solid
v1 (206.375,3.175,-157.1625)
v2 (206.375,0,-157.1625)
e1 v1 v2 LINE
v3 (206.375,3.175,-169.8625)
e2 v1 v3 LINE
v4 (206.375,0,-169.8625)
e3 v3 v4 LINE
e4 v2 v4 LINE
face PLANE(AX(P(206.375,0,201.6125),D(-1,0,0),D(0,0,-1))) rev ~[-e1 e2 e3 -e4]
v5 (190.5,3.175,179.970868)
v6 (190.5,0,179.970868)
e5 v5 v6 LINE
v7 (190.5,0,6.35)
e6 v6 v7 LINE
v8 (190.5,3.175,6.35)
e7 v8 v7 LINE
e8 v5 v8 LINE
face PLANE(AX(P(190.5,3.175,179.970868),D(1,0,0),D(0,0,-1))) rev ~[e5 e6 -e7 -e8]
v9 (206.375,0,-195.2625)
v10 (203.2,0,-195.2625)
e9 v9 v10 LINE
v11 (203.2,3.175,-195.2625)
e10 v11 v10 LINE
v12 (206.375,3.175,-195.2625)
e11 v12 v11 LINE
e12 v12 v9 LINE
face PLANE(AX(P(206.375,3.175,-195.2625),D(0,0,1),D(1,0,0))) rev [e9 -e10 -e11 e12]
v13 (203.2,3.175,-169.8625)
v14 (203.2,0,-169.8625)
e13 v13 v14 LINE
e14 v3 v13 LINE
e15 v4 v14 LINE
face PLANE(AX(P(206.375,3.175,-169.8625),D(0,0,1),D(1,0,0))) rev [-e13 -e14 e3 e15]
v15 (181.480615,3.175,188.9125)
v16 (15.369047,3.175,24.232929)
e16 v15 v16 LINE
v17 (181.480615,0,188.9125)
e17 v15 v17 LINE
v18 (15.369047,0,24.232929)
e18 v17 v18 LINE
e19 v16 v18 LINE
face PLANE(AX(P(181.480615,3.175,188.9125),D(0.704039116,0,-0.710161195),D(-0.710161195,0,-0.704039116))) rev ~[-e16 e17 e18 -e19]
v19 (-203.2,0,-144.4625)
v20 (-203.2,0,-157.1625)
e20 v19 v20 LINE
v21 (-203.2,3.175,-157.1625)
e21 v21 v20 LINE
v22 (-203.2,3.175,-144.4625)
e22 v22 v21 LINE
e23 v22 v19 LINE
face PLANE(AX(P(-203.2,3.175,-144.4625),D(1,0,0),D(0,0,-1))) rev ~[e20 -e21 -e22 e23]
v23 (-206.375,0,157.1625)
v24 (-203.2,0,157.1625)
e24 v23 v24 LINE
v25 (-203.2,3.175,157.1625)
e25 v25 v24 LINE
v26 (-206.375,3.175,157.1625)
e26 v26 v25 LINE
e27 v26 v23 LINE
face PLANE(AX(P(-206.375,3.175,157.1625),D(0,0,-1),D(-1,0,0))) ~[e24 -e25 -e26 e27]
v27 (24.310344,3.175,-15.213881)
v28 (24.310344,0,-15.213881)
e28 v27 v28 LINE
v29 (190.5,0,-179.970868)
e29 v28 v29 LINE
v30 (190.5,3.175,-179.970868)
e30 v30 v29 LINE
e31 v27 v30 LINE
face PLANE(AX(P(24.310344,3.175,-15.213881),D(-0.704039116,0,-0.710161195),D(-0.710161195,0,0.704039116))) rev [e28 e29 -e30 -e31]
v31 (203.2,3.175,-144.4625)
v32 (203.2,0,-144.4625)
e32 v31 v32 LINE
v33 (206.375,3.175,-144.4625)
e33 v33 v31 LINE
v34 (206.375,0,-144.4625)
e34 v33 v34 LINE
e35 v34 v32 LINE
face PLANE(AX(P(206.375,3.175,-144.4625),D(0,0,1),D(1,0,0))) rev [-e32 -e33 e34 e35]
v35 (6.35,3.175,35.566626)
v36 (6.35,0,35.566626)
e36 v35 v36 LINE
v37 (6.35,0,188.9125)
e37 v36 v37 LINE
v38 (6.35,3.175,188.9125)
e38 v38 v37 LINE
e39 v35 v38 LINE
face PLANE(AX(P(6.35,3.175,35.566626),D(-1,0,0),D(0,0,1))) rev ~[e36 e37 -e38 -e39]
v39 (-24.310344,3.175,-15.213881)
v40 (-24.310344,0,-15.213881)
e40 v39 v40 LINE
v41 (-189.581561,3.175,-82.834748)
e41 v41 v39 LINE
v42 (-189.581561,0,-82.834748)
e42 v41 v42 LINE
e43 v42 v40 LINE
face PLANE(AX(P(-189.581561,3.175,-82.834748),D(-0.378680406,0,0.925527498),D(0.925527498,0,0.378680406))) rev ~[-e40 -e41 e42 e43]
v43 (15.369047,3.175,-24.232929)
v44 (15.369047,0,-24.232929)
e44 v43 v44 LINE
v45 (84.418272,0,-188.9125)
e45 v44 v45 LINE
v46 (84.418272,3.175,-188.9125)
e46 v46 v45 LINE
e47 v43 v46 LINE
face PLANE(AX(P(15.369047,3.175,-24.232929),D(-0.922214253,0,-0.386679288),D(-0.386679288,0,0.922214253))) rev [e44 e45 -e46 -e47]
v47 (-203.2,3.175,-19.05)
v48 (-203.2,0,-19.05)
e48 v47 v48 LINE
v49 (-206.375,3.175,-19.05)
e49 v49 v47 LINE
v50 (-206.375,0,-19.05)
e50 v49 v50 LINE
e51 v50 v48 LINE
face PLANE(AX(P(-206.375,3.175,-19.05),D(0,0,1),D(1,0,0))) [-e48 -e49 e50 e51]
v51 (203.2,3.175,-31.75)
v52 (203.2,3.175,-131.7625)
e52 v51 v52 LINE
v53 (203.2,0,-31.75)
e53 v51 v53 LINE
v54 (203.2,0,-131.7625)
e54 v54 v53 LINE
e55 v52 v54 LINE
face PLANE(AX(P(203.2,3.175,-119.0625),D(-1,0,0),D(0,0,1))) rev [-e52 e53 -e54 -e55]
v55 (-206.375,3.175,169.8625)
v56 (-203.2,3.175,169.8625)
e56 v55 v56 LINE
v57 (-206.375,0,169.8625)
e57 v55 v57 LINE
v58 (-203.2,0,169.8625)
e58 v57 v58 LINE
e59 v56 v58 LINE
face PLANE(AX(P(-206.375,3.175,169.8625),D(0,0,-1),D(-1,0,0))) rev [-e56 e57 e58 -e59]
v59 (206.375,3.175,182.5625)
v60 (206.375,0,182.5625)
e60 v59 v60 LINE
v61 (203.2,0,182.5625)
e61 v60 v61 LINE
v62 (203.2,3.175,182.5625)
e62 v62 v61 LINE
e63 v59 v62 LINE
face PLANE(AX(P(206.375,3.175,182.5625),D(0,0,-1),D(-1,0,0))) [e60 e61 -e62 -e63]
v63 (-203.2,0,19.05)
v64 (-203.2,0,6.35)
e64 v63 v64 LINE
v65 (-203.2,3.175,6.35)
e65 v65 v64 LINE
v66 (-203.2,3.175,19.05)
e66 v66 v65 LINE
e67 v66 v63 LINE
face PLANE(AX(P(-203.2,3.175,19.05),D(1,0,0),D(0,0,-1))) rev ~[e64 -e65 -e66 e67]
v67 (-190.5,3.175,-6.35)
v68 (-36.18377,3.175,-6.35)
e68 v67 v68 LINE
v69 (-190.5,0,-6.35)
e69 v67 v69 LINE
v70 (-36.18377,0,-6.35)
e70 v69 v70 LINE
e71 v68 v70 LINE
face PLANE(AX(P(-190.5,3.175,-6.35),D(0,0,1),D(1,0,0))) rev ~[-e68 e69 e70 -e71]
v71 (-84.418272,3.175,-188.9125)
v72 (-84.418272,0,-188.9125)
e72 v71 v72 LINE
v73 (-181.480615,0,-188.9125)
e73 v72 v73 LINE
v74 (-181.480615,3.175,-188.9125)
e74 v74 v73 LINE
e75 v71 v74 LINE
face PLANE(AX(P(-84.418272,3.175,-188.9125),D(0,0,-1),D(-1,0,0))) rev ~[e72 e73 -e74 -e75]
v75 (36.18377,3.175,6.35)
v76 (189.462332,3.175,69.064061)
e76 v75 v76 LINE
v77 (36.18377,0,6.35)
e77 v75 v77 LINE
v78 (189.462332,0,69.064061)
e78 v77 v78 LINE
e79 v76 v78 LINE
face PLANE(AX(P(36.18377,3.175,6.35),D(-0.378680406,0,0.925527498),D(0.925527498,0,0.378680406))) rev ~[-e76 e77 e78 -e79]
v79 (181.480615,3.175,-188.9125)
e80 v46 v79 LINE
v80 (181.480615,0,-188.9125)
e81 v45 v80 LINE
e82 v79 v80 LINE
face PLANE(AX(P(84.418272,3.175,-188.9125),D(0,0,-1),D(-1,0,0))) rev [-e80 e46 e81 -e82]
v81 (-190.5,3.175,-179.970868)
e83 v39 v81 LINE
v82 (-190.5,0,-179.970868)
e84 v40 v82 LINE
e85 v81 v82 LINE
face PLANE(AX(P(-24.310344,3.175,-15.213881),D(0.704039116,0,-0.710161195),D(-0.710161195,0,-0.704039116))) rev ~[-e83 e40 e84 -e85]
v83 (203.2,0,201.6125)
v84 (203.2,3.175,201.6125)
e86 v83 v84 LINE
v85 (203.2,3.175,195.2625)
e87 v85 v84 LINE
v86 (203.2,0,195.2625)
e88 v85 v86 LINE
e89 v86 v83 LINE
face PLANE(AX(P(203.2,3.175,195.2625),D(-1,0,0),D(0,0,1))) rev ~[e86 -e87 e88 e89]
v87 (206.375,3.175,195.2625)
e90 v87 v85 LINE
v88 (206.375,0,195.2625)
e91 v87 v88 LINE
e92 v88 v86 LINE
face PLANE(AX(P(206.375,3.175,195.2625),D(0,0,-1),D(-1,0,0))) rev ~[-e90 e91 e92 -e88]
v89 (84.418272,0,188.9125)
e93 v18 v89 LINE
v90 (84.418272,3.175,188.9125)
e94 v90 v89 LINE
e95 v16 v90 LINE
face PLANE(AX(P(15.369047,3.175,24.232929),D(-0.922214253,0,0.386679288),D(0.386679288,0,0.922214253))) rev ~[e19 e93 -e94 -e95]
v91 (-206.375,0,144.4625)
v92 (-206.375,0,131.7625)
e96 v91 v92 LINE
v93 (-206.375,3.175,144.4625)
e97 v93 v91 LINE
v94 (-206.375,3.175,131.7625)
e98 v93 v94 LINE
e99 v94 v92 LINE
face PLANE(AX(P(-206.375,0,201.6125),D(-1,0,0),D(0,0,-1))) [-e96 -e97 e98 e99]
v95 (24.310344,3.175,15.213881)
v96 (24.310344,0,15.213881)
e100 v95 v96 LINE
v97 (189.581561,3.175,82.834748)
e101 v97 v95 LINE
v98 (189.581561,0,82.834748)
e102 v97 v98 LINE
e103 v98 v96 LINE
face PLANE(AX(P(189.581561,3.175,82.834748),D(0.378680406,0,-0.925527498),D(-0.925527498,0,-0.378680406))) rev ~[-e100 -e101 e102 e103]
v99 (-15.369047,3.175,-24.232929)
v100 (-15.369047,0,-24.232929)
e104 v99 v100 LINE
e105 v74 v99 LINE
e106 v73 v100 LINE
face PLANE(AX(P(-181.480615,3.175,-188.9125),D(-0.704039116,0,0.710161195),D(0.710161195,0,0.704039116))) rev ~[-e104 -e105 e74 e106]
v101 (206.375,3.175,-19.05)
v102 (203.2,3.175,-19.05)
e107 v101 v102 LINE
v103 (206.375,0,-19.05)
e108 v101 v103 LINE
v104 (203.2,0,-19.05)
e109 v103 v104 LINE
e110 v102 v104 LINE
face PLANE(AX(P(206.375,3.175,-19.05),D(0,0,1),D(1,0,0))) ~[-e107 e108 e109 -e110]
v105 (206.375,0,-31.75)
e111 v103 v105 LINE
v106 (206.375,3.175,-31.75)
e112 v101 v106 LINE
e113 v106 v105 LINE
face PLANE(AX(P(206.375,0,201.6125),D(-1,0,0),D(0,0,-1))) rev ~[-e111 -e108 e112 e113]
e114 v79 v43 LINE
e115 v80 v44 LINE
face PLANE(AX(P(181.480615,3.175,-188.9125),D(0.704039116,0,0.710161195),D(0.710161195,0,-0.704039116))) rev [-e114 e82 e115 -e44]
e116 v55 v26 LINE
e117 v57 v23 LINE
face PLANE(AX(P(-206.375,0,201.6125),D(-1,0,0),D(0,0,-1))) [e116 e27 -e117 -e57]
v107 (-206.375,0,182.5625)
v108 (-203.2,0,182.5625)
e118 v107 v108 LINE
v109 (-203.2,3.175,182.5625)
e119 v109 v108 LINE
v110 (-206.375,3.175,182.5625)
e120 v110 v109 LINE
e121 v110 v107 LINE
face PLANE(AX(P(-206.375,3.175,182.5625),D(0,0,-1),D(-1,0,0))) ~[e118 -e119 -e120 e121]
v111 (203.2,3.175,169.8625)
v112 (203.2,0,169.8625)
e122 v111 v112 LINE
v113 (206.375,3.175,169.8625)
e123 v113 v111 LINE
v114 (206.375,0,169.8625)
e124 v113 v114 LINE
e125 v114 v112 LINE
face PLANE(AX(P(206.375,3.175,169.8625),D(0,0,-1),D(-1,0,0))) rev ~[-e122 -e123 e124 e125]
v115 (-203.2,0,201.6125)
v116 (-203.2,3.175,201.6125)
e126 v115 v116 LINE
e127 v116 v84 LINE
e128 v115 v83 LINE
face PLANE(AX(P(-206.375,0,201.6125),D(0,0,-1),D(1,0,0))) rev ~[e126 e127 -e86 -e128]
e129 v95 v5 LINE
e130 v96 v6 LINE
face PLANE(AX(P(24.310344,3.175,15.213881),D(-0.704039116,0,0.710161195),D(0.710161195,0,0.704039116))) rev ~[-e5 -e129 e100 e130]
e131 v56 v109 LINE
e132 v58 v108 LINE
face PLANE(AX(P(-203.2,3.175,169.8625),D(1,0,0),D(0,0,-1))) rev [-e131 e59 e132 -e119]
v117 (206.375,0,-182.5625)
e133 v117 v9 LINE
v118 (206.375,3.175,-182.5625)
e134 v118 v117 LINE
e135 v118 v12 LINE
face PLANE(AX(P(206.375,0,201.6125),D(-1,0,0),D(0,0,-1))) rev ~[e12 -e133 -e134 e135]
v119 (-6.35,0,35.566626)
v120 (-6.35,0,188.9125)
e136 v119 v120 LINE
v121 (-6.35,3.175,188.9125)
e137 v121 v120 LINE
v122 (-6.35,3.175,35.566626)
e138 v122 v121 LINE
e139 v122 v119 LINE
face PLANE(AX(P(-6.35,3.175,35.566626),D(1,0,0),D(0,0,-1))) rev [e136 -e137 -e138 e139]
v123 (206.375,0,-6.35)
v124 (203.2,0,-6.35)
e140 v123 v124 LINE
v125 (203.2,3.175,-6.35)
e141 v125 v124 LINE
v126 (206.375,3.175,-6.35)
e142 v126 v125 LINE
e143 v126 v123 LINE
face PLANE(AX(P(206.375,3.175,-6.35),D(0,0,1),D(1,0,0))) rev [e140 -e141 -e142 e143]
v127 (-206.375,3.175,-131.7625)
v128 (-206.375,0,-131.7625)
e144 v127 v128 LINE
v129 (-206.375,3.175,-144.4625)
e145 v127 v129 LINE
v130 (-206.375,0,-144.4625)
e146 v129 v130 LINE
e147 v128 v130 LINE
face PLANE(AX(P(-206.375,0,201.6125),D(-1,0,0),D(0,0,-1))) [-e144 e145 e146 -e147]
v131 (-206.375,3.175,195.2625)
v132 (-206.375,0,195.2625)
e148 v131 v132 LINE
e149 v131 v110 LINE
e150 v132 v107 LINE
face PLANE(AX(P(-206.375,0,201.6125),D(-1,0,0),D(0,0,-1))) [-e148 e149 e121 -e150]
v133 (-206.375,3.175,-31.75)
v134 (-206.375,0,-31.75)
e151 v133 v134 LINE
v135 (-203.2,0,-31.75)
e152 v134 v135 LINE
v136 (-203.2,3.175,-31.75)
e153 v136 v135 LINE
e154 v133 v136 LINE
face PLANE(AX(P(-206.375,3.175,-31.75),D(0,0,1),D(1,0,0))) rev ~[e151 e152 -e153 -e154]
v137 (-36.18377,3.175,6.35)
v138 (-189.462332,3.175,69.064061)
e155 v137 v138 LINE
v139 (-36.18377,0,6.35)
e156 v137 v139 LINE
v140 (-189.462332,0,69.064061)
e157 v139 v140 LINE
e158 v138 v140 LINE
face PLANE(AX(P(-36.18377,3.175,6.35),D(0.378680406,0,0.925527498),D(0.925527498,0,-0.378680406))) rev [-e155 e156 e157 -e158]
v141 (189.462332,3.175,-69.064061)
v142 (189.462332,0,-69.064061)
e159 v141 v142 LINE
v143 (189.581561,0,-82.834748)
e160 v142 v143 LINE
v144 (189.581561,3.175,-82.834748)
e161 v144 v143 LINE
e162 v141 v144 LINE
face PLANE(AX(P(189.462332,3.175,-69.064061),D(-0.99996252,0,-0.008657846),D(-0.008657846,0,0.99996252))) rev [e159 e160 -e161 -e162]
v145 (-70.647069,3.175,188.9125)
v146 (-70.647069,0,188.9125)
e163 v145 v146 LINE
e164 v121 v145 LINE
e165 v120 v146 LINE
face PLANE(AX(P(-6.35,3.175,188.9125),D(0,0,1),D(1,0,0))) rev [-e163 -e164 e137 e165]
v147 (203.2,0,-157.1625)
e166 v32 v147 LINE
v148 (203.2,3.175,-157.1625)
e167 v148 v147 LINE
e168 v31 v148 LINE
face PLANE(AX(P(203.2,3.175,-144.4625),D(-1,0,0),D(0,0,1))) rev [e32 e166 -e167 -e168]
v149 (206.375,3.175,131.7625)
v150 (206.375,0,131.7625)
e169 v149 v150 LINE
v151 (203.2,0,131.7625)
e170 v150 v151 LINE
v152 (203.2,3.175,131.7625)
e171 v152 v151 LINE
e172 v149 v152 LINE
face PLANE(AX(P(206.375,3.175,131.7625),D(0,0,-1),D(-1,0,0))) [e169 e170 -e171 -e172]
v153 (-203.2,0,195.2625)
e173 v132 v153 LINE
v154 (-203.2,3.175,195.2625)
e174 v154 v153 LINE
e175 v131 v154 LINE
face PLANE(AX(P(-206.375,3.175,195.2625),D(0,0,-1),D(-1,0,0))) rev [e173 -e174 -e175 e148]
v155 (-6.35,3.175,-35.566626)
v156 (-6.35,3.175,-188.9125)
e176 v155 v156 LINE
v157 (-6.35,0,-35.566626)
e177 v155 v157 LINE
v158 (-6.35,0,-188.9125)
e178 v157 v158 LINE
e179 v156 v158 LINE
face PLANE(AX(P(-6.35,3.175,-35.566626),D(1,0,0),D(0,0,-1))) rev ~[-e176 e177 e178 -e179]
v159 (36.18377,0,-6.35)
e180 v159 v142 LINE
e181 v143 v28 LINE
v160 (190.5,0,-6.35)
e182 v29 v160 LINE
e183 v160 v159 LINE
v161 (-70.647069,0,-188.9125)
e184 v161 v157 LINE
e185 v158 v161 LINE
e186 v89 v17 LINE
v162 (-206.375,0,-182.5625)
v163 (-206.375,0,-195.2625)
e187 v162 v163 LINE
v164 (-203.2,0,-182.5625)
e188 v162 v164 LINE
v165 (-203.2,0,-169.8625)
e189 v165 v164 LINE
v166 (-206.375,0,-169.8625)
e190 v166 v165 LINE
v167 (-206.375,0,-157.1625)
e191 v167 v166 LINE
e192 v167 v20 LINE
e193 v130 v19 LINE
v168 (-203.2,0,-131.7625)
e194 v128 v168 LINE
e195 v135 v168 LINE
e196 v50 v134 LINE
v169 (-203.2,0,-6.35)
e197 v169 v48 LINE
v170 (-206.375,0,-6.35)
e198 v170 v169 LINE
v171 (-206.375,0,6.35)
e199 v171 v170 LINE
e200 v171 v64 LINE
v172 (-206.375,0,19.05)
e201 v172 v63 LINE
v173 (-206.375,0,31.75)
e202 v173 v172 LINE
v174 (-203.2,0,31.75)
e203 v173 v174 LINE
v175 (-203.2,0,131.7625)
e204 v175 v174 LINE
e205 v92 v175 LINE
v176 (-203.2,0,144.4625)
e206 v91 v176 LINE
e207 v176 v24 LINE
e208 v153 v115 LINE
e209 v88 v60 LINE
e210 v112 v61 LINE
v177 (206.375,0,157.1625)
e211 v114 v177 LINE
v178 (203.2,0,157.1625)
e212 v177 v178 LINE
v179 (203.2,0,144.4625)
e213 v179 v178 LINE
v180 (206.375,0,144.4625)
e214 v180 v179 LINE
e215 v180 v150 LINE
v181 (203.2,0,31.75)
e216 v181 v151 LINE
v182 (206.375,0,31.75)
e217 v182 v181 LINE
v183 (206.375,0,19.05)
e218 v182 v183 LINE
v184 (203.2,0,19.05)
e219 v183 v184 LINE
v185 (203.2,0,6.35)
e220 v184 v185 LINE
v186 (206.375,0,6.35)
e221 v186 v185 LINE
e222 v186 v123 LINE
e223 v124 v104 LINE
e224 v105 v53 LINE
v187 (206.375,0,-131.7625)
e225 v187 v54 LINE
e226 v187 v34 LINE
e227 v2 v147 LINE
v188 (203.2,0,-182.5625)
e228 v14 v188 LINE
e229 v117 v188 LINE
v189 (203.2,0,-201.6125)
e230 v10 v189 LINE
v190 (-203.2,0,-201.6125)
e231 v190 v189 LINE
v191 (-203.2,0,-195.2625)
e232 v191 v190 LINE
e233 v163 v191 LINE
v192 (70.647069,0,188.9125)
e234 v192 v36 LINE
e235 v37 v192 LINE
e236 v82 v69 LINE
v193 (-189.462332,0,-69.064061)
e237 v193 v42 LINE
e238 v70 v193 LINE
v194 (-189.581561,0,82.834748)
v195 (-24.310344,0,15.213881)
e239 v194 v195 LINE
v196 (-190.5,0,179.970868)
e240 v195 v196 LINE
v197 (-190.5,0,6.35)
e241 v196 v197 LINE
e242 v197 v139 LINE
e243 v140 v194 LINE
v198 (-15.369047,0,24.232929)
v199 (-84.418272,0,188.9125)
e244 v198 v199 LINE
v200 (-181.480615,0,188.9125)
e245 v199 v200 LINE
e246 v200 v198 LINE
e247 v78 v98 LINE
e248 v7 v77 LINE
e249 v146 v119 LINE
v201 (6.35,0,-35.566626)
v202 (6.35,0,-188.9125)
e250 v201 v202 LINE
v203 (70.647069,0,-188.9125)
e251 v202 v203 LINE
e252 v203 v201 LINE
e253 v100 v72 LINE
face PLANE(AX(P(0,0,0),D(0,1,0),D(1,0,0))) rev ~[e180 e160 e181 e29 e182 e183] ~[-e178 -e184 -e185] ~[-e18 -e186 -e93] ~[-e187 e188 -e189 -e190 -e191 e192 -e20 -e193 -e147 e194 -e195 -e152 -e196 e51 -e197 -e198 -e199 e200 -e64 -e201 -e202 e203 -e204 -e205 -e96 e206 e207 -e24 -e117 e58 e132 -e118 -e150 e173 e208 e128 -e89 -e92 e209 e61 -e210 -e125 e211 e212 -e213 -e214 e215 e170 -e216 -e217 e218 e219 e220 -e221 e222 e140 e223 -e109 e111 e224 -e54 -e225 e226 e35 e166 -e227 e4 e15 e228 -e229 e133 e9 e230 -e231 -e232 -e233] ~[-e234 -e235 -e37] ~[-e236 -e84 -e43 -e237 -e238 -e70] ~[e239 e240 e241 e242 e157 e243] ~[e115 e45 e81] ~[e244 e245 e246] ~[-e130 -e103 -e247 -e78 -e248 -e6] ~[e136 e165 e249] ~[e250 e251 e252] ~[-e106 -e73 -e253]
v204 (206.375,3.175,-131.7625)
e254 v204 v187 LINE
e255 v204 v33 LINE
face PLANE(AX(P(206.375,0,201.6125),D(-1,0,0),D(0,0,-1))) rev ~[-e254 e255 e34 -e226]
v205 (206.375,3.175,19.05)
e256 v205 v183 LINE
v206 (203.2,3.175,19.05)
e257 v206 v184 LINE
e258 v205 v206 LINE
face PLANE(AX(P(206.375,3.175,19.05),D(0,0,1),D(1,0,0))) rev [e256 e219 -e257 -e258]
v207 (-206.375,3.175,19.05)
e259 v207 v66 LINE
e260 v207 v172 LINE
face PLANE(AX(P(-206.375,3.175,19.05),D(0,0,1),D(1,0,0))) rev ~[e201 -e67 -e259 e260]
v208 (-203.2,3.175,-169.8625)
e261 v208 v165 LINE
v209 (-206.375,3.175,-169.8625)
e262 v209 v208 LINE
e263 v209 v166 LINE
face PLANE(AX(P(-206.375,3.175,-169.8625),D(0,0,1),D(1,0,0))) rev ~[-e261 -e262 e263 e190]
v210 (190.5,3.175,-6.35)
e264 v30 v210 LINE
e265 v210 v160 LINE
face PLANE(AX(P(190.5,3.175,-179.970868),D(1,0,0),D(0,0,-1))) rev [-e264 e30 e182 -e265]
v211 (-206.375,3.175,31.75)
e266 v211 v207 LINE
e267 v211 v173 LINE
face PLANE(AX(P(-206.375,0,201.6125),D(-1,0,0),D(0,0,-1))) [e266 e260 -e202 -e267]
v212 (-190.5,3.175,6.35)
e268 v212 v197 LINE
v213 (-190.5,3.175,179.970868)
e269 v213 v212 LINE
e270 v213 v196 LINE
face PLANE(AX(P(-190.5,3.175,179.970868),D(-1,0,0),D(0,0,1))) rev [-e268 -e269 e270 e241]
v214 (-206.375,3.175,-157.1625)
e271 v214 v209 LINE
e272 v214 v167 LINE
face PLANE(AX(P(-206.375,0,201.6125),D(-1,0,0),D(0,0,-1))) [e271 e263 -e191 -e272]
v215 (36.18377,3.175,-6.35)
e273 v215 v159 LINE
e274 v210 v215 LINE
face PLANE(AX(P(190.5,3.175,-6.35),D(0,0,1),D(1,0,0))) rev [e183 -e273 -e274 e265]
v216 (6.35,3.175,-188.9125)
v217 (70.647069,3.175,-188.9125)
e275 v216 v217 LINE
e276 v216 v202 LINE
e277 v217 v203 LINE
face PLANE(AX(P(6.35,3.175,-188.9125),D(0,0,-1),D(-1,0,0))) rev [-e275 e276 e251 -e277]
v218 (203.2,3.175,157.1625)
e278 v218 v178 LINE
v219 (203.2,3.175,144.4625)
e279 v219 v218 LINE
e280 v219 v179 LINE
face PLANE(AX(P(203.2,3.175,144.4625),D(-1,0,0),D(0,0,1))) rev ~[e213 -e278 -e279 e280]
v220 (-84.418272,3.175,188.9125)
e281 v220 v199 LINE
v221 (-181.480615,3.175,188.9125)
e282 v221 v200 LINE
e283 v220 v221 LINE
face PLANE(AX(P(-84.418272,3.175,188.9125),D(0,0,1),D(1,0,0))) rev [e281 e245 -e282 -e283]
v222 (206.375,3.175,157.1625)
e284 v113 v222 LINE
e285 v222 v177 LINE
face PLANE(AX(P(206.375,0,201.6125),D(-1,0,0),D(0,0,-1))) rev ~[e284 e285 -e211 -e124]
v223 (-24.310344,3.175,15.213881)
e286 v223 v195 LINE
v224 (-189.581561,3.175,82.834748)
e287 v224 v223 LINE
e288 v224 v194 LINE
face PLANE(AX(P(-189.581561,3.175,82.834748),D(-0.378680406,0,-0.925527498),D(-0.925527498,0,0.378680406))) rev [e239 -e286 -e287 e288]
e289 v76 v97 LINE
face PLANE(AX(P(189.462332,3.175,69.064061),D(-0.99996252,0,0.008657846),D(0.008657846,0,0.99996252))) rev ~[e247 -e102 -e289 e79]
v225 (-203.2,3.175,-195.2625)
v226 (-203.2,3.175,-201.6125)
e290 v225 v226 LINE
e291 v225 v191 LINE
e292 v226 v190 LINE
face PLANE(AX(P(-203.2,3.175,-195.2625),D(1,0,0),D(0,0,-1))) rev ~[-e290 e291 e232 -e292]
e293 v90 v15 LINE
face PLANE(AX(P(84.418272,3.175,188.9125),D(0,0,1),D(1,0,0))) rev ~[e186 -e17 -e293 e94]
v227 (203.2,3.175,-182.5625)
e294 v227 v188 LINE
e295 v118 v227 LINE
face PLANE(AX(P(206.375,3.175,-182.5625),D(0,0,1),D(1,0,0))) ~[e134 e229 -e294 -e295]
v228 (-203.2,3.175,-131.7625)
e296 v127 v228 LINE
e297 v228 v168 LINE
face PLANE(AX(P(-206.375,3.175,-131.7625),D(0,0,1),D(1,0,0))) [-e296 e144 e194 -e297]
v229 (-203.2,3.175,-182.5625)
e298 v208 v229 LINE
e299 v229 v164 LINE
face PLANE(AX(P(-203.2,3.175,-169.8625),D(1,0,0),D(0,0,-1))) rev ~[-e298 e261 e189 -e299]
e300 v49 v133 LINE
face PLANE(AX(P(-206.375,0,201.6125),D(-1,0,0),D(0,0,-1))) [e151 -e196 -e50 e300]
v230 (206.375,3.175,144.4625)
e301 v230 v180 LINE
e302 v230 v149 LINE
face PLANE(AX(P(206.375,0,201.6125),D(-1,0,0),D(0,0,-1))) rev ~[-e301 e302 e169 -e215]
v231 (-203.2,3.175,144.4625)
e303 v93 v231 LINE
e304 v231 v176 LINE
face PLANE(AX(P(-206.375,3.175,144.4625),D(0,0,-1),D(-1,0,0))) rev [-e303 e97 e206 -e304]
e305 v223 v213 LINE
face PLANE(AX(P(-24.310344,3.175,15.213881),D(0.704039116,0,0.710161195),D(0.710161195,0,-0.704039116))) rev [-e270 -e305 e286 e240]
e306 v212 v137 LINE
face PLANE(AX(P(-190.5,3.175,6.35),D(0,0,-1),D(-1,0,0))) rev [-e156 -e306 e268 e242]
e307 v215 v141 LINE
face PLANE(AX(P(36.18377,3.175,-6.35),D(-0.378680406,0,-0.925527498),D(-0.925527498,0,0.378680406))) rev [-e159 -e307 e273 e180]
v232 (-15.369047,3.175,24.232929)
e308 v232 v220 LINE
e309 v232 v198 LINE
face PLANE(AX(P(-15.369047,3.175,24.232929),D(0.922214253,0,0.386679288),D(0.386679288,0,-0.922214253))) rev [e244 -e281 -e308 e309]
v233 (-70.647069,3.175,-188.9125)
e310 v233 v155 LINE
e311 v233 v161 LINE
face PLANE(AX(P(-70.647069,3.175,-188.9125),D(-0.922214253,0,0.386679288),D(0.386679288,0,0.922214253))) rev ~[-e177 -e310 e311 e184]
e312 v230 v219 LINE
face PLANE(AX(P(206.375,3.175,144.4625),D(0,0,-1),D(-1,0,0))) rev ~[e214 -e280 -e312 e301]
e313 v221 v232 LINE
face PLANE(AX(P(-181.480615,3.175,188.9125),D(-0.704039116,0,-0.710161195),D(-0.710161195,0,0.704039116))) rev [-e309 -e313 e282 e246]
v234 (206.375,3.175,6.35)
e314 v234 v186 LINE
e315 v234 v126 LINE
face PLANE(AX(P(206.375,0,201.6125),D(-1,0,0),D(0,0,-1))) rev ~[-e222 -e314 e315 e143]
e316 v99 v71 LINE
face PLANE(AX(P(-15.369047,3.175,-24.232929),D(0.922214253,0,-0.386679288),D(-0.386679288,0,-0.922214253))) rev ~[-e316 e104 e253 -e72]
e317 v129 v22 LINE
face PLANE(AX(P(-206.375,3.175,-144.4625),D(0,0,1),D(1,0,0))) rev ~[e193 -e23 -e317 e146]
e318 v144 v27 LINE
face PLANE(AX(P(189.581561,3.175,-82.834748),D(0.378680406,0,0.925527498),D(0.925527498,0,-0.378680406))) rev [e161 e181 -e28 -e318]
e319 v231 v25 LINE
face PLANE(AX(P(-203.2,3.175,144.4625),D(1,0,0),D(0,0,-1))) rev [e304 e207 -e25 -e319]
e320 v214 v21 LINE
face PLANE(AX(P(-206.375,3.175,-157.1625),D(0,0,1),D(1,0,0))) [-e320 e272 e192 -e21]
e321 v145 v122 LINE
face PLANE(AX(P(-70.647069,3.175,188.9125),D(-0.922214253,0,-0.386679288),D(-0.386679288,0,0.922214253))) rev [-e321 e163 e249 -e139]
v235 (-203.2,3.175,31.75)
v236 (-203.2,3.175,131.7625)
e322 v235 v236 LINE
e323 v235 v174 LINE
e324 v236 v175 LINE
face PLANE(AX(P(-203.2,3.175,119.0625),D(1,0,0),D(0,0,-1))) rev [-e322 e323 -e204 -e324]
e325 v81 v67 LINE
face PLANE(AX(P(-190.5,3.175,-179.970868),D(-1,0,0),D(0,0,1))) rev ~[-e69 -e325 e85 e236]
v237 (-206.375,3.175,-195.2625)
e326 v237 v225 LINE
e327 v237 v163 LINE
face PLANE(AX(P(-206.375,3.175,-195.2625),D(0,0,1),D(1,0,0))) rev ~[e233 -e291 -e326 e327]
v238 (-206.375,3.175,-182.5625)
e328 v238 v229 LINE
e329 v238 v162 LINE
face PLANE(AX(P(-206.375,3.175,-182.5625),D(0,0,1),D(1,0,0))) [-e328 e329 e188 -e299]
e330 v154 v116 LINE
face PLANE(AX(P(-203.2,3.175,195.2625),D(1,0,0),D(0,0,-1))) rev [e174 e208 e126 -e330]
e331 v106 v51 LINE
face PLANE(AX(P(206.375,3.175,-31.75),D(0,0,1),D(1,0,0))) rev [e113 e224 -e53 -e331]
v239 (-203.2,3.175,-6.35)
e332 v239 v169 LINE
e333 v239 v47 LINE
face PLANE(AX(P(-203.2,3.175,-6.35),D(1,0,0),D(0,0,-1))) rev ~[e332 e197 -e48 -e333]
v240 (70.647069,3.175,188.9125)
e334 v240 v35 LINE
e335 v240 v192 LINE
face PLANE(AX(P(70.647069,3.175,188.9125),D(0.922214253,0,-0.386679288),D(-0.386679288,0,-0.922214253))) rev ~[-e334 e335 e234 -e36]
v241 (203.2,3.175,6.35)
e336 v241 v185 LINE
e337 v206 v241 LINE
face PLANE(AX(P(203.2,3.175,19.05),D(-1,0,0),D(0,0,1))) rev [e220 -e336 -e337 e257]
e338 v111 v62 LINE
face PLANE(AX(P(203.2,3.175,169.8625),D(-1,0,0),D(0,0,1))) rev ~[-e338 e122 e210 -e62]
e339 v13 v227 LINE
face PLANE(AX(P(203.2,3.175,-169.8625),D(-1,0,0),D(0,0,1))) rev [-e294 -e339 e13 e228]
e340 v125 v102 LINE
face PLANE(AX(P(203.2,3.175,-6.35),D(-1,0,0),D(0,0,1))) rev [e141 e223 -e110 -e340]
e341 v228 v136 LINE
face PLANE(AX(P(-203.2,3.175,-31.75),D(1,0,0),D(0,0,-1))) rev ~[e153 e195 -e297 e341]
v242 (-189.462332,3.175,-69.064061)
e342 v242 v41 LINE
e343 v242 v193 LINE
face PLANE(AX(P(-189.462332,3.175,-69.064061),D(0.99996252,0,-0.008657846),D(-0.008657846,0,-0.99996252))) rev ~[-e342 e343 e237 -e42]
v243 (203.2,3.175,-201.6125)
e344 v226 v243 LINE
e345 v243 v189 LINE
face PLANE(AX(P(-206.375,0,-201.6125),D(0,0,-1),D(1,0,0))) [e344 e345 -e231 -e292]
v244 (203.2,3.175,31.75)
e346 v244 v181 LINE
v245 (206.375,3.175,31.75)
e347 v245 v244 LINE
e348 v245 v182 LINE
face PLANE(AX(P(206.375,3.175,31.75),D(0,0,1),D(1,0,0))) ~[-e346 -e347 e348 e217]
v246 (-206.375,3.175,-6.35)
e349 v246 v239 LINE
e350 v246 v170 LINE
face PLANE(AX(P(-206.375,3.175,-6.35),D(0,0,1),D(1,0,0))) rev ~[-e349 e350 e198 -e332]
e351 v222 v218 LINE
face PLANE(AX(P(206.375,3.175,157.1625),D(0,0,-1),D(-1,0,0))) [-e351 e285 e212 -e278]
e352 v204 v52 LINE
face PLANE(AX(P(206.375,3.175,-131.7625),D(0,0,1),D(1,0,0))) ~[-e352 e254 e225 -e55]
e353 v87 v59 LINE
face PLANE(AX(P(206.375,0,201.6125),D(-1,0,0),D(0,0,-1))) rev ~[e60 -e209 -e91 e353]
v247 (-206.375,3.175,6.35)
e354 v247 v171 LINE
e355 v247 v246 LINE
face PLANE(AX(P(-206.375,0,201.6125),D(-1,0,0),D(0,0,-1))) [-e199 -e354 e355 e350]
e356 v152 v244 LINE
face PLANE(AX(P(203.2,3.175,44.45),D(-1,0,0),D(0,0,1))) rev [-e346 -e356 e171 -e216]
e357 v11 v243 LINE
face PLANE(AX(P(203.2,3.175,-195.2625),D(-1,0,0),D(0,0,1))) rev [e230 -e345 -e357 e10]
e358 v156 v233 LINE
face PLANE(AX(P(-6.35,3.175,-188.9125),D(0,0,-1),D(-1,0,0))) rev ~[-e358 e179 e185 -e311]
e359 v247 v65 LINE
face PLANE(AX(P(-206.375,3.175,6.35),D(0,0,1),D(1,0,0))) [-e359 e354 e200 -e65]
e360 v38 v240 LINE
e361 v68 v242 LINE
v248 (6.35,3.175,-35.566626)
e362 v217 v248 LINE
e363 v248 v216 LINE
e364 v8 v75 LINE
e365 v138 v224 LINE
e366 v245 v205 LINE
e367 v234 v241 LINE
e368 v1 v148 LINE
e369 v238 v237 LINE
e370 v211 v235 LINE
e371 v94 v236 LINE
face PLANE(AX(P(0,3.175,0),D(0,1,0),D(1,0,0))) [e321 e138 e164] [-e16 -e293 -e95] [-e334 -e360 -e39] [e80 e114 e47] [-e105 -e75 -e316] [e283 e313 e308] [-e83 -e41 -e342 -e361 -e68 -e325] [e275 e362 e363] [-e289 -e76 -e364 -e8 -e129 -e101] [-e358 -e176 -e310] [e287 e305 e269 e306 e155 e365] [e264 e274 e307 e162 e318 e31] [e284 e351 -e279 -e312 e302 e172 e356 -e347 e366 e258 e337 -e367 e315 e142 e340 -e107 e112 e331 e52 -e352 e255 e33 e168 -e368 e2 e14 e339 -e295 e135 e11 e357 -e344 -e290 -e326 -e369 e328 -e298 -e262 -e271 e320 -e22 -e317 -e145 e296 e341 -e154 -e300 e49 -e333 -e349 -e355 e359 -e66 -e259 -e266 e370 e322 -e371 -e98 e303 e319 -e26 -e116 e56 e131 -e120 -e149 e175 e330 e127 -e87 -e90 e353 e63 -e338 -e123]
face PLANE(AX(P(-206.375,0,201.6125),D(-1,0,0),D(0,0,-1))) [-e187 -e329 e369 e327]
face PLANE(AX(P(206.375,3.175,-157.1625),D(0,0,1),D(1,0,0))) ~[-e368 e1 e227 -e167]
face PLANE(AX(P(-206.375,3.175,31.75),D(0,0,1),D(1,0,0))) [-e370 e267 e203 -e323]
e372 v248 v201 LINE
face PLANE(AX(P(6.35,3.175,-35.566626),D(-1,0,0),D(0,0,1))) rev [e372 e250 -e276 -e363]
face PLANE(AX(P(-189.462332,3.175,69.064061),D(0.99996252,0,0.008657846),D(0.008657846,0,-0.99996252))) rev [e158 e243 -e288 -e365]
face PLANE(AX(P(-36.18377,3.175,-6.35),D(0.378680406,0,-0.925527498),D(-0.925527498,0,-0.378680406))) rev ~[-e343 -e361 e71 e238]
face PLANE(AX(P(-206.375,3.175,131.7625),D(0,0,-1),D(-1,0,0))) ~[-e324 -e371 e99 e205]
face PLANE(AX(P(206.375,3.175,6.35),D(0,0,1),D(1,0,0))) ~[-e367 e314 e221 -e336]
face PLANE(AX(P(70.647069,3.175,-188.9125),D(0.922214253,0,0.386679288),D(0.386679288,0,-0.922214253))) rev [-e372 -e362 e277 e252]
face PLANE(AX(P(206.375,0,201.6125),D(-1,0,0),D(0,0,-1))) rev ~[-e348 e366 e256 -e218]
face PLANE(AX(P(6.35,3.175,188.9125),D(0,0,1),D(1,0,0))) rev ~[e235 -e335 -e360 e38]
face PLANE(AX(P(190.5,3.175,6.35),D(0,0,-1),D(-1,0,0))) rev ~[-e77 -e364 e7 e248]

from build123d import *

# Parameters (mm, degrees)
SKETCH1_W               = 412.75
SKETCH1_H               = 403.225
BOSS_EXTRUDE1_DEPTH     = 3.175
SKETCH2_W               = 3.175
SKETCH2_H               = 87.3125
CUT_EXTRUDE1_DEPTH      = 3.175
SKETCH3_W               = 3.175
SKETCH3_H               = 12.7
CUT_EXTRUDE2_DEPTH      = 3.175
SKETCH4_W               = 3.175
SKETCH4_H               = 12.7
CUT_EXTRUDE3_DEPTH      = 3.175
MIRROR2_COPY_1_SKETCH_W = 3.175
MIRROR2_COPY_1_SKETCH_H = 12.7
MIRROR2_COPY_1_DEPTH    = 3.175
CUT_EXTRUDE4_DEPTH      = 3.175
MIRROR4_COPY_1_DEPTH    = 3.175


with BuildPart() as part:
    # Sketch1 → Boss-Extrude1 (new body)
    with BuildSketch(Plane(origin=(0, 0, 0), x_dir=(1, 0, 0), z_dir=(0, 1, 0))):
        Rectangle(SKETCH1_W, SKETCH1_H)
    extrude(amount=BOSS_EXTRUDE1_DEPTH)

    # Sketch2 → Cut-Extrude1 (cut)
    with BuildSketch(Plane(origin=(0, 3.175, 0), x_dir=(1, 0, 0), z_dir=(0, 1, 0))):
        with Locations((-204.7875, 81.75625)):
            Rectangle(SKETCH2_W, SKETCH2_H)
        with Locations((-204.7875, -81.75625)):
            Rectangle(SKETCH2_W, SKETCH2_H)
    cut_extrude1 = extrude(amount=-CUT_EXTRUDE1_DEPTH, mode=Mode.SUBTRACT)

    # Sketch3 → Cut-Extrude2 (cut)
    with BuildSketch(Plane(origin=(0, 3.175, 0), x_dir=(1, 0, 0), z_dir=(0, 1, 0))):
        with Locations((-204.7875, 201.6125)):
            Rectangle(SKETCH3_W, SKETCH3_H)
        with Locations((-204.7875, 176.2125)):
            Rectangle(SKETCH3_W, SKETCH3_H)
        with Locations((-204.7875, 150.8125)):
            Rectangle(SKETCH3_W, SKETCH3_H)
        with Locations((-204.7875, 125.4125)):
            Rectangle(SKETCH3_W, SKETCH3_H)
    cut_extrude2 = extrude(amount=-CUT_EXTRUDE2_DEPTH, mode=Mode.SUBTRACT)

    # Sketch4 → Cut-Extrude3 (cut)
    with BuildSketch(Plane(origin=(0, 3.175, 0), x_dir=(1, 0, 0), z_dir=(0, 1, 0))):
        with Locations((-204.7875, 38.1)):
            Rectangle(SKETCH4_W, SKETCH4_H)
        with Locations((-204.7875, 12.7)):
            Rectangle(SKETCH4_W, SKETCH4_H)
        with Locations((-204.7875, -12.7)):
            Rectangle(SKETCH4_W, SKETCH4_H)
        with Locations((-204.7875, -38.1)):
            Rectangle(SKETCH4_W, SKETCH4_H)
    cut_extrude3 = extrude(amount=-CUT_EXTRUDE3_DEPTH, mode=Mode.SUBTRACT)

    # Mirror1: Cut-Extrude2 across plane
    add(cut_extrude2.mirror(Plane.XY), mode=Mode.SUBTRACT)

    # Mirror2: Cut-Extrude1, Cut-Extrude2, Cut-Extrude3 across plane
    add(cut_extrude1.mirror(Plane(origin=(0, 0, 0), x_dir=(0, 0, 1), z_dir=(1, 0, 0))), mode=Mode.SUBTRACT)
    add(cut_extrude2.mirror(Plane(origin=(0, 0, 0), x_dir=(0, 0, 1), z_dir=(1, 0, 0))), mode=Mode.SUBTRACT)
    add(cut_extrude3.mirror(Plane(origin=(0, 0, 0), x_dir=(0, 0, 1), z_dir=(1, 0, 0))), mode=Mode.SUBTRACT)

    # Mirror2 copy 1 sketch → Mirror2 copy 1 (cut)
    with BuildSketch(Plane(origin=(0, 3.175, 0), x_dir=(-1, 0, 0), z_dir=(0, 1, 0))):
        with Locations((-204.7875, 201.6125)):
            Rectangle(MIRROR2_COPY_1_SKETCH_W, MIRROR2_COPY_1_SKETCH_H)
        with Locations((-204.7875, 176.2125)):
            Rectangle(MIRROR2_COPY_1_SKETCH_W, MIRROR2_COPY_1_SKETCH_H)
        with Locations((-204.7875, 150.8125)):
            Rectangle(MIRROR2_COPY_1_SKETCH_W, MIRROR2_COPY_1_SKETCH_H)
        with Locations((-204.7875, 125.4125)):
            Rectangle(MIRROR2_COPY_1_SKETCH_W, MIRROR2_COPY_1_SKETCH_H)
    extrude(amount=-MIRROR2_COPY_1_DEPTH, mode=Mode.SUBTRACT)

    # Sketch5 → Cut-Extrude4 (cut)
    with BuildSketch(Plane(origin=(0, 3.175, 0), x_dir=(1, 0, 0), z_dir=(0, 1, 0))):
        Polygon((-190.5, 6.35), (-36.183770369, 6.35), (-189.462331729, 69.064060773), (-189.581560693, 82.834747968), (-24.310343952, 15.213881497), (-190.5, 179.970868096), align=None)
        Polygon((-181.480614775, 188.9125), (-15.369047179, 24.232928676), (-84.41827204, 188.9125), align=None)
        Polygon((-70.647068702, 188.9125), (-6.35, 35.566626349), (-6.35, 188.9125), align=None)
    cut_extrude4 = extrude(amount=-CUT_EXTRUDE4_DEPTH, mode=Mode.SUBTRACT)

    # Mirror3: Cut-Extrude4 across plane
    add(cut_extrude4.mirror(Plane(origin=(0, 0, 0), x_dir=(0, 0, 1), z_dir=(1, 0, 0))), mode=Mode.SUBTRACT)

    # Mirror4: Cut-Extrude4 across plane
    add(cut_extrude4.mirror(Plane.XY), mode=Mode.SUBTRACT)

    # Mirror4 copy 1 sketch → Mirror4 copy 1 (cut)
    with BuildSketch(Plane(origin=(0, 3.175, 0), x_dir=(-1, 0, 0), z_dir=(0, 1, 0))):
        Polygon((-190.5, 6.35), (-36.183770369, 6.35), (-189.462331729, 69.064060773), (-189.581560693, 82.834747968), (-24.310343952, 15.213881497), (-190.5, 179.970868096), align=None)
        Polygon((-181.480614775, 188.9125), (-15.369047179, 24.232928676), (-84.41827204, 188.9125), align=None)
        Polygon((-70.647068702, 188.9125), (-6.35, 35.566626349), (-6.35, 188.9125), align=None)
    extrude(amount=-MIRROR4_COPY_1_DEPTH, mode=Mode.SUBTRACT)


solid = part.part
